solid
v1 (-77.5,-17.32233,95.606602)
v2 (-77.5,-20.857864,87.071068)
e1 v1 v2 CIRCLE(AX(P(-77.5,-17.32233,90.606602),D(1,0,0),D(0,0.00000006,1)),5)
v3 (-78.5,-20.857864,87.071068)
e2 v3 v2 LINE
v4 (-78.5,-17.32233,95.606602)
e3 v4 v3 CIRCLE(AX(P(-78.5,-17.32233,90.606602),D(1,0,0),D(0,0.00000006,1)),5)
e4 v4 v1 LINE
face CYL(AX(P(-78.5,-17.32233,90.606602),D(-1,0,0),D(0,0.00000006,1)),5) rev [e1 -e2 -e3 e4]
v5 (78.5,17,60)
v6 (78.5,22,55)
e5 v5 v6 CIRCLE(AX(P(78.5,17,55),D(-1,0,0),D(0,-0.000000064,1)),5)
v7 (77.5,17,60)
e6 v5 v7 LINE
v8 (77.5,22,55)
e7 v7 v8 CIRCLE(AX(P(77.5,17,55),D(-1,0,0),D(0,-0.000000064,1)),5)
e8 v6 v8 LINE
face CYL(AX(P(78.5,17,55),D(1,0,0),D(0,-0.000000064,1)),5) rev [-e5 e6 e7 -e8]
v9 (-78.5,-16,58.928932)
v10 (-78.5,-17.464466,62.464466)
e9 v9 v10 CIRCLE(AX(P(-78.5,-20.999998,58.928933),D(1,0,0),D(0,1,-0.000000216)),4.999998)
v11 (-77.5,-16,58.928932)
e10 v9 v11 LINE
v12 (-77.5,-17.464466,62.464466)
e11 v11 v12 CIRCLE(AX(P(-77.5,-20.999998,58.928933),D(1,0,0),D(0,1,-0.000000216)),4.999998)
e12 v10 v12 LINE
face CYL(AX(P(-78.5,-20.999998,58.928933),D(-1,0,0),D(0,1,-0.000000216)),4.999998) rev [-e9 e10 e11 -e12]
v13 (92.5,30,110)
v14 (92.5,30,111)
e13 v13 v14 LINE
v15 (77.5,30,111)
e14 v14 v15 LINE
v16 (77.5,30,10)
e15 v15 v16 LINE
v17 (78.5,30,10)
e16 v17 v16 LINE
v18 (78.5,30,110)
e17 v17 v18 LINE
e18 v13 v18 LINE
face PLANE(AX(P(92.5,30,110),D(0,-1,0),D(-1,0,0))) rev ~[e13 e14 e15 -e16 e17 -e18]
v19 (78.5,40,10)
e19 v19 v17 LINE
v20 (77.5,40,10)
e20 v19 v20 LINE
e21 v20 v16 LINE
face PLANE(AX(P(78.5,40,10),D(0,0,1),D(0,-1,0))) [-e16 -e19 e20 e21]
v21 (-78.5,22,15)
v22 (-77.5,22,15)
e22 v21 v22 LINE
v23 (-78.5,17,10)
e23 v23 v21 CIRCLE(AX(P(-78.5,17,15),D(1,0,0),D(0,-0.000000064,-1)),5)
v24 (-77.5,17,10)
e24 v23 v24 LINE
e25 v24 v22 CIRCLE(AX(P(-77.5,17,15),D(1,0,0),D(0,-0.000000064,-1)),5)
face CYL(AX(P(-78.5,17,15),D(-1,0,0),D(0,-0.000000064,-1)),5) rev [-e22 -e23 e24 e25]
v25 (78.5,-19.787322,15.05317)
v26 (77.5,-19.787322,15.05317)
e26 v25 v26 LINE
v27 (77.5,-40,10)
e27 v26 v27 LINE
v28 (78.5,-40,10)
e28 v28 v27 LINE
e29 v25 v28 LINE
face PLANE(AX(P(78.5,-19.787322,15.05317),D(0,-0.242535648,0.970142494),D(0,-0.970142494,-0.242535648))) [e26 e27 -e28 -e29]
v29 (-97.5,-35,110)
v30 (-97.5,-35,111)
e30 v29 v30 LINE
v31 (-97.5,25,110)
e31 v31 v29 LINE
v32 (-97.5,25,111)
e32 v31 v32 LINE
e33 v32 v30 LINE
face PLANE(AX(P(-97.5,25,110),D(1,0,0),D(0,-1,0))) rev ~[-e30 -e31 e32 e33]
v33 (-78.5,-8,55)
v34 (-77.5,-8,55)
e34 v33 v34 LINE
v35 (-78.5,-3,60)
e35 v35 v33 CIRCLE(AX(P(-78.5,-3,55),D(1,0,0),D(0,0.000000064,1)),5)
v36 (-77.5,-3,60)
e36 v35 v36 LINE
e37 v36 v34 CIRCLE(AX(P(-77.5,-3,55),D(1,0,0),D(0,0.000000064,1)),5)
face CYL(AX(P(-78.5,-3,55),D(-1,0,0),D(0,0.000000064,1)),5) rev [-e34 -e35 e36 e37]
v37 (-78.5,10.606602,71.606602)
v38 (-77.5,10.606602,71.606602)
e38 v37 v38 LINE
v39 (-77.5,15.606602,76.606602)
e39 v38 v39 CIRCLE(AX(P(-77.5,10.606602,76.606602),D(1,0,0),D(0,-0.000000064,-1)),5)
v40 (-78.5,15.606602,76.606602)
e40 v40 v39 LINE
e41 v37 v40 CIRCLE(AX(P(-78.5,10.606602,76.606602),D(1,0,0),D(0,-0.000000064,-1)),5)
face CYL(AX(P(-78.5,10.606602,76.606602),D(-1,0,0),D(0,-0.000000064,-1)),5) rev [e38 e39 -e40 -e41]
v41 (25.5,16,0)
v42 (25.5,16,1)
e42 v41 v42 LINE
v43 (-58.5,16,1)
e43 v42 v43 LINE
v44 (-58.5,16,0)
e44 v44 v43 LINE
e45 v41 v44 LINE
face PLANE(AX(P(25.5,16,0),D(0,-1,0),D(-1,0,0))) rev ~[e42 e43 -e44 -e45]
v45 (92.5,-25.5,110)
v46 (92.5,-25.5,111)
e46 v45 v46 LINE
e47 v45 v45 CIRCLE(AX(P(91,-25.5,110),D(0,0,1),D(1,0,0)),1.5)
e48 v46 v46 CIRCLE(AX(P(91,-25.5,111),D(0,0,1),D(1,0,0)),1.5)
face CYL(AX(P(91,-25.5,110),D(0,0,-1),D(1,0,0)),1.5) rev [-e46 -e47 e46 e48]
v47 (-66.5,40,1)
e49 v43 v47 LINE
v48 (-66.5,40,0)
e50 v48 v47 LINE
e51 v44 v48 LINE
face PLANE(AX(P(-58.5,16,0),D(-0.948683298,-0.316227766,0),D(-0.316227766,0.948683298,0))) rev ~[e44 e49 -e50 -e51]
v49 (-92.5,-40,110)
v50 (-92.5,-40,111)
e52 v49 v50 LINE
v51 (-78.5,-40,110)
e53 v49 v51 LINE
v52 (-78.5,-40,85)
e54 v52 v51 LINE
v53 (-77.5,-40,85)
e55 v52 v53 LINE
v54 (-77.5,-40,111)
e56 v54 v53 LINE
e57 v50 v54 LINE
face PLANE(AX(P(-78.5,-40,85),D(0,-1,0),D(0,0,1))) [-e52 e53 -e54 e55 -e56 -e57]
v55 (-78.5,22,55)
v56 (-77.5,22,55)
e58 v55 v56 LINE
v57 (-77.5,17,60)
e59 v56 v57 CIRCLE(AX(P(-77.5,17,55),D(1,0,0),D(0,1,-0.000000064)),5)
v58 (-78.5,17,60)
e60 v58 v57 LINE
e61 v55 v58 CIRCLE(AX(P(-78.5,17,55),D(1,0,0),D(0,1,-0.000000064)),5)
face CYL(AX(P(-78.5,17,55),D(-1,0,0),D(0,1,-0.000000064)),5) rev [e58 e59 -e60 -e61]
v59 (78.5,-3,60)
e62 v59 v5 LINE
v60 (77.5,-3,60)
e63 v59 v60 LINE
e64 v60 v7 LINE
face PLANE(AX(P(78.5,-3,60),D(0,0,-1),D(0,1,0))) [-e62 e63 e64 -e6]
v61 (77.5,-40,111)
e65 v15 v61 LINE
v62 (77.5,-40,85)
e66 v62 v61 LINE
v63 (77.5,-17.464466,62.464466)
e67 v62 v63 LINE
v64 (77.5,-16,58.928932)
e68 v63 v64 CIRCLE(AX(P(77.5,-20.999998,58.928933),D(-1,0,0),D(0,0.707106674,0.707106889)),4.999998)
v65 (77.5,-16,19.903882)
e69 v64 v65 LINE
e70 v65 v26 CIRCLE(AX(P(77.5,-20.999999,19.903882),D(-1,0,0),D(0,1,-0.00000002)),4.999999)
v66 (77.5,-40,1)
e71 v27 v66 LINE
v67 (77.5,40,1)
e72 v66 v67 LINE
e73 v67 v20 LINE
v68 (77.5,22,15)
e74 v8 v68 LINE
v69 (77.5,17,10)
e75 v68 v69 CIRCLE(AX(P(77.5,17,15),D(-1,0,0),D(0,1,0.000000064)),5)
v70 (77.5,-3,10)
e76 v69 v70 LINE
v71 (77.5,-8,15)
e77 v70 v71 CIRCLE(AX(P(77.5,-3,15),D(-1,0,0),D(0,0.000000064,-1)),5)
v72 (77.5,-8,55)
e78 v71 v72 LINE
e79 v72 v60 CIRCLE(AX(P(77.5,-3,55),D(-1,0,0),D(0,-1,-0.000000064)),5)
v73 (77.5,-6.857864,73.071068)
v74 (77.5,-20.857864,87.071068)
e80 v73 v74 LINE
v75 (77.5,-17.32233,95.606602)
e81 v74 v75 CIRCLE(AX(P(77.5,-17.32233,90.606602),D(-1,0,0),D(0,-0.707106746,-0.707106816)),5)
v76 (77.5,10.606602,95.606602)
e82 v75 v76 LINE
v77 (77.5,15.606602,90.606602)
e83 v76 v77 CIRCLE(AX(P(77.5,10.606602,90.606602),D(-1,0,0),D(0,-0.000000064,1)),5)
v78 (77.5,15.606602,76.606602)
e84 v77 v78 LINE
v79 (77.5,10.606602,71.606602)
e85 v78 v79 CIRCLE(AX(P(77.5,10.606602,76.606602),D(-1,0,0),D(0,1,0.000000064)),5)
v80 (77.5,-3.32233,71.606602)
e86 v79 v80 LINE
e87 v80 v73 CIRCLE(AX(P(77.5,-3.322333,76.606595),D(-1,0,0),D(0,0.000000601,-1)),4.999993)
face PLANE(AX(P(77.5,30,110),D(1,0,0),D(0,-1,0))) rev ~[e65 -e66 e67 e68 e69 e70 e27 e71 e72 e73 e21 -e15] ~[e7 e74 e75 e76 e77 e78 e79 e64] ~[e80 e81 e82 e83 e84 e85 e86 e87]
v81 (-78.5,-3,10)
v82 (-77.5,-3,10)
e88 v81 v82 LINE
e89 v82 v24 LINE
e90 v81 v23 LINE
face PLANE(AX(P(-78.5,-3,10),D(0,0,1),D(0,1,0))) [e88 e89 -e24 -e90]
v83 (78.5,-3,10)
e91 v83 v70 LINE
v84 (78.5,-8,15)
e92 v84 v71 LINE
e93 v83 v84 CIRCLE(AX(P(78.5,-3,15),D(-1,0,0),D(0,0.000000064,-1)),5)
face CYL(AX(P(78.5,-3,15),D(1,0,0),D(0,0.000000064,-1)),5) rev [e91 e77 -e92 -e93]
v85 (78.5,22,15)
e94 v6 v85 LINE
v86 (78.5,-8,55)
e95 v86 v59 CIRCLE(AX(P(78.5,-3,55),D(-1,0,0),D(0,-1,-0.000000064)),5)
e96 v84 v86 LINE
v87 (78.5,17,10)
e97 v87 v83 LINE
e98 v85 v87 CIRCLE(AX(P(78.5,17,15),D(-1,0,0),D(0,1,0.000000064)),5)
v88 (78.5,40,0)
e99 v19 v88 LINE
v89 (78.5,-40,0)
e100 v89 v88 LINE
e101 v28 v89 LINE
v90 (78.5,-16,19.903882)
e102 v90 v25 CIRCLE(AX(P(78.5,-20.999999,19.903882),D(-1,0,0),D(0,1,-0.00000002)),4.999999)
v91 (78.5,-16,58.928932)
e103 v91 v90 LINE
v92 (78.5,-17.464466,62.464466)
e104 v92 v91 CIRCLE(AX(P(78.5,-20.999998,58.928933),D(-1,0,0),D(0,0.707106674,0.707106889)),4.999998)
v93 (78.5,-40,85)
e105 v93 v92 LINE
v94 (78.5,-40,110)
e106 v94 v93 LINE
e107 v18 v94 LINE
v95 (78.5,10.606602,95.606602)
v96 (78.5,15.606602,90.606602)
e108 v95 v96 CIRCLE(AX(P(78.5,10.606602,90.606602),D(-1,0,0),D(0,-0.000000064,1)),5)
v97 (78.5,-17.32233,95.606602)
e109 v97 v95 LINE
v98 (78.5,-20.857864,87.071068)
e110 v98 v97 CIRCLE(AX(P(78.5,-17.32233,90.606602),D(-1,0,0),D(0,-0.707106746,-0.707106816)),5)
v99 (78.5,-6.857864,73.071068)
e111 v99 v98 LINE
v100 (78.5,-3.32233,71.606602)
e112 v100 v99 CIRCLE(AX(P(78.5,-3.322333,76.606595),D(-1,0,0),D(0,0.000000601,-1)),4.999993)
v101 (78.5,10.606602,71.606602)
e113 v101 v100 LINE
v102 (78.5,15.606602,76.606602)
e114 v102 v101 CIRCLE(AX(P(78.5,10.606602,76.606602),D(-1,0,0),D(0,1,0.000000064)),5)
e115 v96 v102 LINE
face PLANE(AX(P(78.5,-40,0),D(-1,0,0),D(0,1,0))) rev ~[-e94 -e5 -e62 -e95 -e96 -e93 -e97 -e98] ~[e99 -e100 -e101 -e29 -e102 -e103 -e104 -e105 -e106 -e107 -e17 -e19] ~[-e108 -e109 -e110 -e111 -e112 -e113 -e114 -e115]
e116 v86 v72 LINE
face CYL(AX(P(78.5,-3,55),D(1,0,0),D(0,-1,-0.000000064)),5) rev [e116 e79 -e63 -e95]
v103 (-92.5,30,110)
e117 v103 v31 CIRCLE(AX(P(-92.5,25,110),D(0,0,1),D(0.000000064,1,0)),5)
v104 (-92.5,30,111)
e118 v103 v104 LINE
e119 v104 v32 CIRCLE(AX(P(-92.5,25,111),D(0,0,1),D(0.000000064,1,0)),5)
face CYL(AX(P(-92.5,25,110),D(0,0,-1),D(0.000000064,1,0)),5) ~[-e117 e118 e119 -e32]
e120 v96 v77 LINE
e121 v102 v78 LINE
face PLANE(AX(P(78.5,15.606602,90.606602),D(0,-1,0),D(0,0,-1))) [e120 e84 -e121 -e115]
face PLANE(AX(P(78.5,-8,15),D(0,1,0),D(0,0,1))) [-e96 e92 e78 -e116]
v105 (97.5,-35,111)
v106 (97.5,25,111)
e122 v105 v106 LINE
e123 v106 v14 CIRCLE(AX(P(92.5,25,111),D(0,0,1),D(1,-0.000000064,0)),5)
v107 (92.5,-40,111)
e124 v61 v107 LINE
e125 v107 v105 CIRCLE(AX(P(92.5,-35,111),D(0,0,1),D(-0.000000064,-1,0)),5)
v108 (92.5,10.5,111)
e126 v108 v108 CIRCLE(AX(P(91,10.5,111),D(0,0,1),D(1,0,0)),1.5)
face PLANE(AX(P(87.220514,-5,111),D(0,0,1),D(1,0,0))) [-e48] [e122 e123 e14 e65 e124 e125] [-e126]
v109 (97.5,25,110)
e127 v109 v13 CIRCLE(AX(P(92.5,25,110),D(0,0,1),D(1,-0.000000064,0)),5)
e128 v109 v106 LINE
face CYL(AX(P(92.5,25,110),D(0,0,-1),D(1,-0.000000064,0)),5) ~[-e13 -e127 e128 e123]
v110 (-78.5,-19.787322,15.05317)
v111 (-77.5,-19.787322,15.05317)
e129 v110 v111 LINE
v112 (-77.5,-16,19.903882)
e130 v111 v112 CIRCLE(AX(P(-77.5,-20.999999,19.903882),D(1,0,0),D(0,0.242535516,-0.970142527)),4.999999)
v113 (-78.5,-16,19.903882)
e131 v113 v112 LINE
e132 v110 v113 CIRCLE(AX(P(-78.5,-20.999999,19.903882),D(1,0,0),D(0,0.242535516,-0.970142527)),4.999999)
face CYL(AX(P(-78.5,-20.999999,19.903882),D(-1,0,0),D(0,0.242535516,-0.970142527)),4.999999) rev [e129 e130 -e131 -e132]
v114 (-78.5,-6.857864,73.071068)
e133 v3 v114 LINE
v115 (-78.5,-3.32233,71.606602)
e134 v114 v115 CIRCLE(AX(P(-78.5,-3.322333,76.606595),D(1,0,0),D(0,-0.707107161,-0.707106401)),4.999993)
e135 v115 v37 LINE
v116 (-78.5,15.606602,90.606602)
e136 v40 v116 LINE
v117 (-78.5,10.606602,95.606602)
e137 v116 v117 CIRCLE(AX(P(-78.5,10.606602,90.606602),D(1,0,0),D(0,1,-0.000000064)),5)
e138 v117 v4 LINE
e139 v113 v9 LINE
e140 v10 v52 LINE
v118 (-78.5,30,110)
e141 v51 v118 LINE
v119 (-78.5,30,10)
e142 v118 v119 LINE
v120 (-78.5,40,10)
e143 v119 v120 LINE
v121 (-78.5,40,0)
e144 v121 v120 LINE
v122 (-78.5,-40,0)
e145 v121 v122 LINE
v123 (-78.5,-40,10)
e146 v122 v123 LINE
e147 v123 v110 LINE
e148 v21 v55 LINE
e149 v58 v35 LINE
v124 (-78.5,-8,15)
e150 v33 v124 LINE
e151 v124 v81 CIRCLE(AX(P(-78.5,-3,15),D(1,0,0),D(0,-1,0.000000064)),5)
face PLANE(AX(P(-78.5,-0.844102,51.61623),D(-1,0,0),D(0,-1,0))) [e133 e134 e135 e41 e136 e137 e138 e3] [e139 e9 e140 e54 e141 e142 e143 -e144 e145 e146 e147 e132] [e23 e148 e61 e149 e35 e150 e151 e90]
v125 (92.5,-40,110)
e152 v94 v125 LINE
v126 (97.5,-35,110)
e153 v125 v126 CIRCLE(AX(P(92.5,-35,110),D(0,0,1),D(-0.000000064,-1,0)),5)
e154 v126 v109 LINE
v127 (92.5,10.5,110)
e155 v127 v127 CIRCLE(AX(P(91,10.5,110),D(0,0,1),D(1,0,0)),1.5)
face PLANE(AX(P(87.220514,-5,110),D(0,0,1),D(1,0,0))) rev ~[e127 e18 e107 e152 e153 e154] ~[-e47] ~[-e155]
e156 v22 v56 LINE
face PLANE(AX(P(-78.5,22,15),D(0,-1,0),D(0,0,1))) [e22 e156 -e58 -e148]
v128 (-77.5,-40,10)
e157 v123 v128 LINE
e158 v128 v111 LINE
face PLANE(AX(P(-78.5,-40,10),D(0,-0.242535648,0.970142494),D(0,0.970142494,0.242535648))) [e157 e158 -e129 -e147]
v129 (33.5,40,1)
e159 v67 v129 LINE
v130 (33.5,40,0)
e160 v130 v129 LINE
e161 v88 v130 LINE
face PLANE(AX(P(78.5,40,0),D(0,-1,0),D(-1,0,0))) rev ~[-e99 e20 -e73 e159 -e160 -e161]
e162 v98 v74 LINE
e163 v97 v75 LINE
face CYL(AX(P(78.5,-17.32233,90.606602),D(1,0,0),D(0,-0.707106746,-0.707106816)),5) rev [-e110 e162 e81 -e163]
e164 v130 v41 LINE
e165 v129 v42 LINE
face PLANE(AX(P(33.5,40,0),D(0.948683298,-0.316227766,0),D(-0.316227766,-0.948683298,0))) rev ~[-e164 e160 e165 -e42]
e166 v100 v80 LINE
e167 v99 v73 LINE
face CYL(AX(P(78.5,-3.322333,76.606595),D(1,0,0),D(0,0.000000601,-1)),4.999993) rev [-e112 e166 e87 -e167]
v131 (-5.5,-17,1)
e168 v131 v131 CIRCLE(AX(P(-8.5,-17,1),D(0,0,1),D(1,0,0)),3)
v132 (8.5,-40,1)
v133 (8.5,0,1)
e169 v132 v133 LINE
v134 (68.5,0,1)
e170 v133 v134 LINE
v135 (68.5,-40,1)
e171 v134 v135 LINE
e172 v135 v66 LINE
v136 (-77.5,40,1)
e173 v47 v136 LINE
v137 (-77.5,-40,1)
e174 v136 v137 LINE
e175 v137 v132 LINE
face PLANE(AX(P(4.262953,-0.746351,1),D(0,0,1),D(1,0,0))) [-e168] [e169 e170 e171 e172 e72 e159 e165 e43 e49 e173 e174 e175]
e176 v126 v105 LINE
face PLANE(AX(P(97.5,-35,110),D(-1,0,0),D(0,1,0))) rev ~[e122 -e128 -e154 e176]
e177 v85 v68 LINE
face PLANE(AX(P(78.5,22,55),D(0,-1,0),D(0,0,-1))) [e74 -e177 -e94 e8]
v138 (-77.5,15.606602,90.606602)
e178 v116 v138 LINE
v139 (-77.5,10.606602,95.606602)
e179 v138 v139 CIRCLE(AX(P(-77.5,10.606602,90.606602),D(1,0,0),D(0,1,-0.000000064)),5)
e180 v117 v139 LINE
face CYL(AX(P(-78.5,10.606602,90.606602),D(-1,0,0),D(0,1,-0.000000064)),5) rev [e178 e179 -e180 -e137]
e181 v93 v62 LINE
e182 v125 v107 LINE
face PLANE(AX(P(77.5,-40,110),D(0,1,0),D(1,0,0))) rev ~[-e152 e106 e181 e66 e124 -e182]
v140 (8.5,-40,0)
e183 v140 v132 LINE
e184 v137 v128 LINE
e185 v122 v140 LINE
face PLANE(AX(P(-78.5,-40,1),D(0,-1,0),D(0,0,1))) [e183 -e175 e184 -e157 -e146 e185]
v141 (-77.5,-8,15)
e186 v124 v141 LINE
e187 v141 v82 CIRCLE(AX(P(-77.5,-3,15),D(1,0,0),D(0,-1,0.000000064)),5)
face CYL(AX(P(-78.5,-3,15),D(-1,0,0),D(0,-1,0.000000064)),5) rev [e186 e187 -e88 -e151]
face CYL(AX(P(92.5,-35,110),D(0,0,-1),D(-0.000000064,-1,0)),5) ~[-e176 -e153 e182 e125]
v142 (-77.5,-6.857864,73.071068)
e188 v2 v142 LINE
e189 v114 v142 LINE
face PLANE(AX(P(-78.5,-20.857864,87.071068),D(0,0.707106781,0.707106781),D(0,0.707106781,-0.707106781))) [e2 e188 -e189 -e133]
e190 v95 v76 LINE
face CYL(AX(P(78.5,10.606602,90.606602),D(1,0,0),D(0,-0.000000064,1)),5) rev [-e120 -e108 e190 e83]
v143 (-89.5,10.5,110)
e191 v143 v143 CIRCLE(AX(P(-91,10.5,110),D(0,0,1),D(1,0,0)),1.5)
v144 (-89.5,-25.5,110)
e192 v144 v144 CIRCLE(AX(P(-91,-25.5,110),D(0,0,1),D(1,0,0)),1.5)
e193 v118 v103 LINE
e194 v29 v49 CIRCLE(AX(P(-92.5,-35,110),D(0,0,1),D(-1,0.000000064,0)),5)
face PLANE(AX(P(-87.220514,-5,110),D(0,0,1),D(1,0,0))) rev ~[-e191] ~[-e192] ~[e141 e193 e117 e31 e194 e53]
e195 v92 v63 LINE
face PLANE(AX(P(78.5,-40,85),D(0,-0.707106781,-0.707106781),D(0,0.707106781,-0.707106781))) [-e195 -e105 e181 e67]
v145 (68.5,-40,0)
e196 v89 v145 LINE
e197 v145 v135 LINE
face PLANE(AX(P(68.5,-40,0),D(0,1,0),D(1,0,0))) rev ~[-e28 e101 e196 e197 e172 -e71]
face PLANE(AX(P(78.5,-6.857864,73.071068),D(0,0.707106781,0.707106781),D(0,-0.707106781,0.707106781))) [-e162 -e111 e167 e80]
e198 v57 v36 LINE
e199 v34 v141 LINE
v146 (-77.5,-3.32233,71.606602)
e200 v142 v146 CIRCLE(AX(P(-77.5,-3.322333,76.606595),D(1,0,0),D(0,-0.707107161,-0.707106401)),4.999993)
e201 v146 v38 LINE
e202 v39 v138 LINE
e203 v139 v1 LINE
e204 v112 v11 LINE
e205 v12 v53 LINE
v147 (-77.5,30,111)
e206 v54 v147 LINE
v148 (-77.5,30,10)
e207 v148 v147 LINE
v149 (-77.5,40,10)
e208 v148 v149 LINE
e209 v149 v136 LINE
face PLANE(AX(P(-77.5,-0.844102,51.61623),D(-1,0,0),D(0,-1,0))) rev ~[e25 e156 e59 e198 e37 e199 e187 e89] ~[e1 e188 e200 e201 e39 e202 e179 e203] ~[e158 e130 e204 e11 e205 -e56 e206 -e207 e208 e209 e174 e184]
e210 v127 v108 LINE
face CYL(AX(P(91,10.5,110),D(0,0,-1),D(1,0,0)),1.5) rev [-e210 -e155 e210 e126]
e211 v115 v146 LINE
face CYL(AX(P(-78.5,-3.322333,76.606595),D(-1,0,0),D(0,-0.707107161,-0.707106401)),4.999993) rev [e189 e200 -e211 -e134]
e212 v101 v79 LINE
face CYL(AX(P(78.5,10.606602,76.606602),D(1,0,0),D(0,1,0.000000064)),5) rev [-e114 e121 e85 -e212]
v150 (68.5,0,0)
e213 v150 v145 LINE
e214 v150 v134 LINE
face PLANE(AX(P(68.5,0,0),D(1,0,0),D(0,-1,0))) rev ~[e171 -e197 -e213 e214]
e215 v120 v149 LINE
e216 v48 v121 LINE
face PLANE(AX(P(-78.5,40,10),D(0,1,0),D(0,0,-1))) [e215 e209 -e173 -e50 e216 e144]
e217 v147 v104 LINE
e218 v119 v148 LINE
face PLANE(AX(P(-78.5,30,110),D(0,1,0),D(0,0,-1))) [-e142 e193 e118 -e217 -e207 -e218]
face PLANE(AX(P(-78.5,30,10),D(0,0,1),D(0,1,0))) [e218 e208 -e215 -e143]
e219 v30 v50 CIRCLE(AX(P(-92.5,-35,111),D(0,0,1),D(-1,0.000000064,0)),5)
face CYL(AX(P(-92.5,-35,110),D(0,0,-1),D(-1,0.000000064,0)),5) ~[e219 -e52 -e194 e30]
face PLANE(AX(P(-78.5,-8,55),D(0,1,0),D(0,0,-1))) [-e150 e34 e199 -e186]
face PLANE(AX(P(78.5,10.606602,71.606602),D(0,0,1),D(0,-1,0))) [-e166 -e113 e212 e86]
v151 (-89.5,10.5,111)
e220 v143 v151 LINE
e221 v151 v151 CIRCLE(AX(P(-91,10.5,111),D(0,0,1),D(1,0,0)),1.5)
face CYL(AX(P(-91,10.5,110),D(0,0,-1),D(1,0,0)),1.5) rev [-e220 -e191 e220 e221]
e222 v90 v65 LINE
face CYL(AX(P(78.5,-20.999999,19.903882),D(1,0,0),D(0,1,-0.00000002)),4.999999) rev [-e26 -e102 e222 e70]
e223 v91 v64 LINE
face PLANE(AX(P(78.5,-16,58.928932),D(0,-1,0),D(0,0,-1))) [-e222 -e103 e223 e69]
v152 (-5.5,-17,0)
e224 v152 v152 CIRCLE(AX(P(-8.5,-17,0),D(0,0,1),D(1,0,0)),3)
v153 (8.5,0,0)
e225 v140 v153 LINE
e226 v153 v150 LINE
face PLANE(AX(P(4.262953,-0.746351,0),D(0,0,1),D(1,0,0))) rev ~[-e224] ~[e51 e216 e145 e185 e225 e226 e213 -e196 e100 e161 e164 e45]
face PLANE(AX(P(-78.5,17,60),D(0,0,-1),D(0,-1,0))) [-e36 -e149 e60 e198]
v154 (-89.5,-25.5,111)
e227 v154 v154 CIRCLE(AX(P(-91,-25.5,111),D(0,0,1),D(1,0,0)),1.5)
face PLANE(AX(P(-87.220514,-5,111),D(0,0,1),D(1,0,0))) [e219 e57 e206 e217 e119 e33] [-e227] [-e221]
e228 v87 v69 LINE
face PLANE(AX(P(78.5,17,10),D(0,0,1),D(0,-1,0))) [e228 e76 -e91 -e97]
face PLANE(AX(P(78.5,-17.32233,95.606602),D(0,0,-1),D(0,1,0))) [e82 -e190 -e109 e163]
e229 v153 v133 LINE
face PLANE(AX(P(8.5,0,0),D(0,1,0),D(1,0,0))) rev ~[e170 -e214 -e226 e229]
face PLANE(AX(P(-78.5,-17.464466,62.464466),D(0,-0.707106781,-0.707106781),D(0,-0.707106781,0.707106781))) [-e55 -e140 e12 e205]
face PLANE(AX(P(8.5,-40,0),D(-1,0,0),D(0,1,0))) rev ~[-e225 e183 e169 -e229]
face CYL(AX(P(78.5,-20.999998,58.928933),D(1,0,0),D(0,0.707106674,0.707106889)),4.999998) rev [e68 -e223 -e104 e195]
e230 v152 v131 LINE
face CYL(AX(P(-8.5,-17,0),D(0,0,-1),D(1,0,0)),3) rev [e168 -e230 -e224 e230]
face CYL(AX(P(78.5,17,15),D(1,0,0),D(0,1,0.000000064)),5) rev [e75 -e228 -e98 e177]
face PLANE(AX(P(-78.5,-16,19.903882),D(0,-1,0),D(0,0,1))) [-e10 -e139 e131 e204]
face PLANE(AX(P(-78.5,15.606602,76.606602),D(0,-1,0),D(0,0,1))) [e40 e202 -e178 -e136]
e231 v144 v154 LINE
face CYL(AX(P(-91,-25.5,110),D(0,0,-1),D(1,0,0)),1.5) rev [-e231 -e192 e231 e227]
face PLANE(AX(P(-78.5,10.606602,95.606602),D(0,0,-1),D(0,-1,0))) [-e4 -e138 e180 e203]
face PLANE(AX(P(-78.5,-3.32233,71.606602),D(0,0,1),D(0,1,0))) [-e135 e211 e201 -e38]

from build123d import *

# Parameters (mm, degrees)
F0_R     = 3
F1_DEPTH = 1
F3_DEPTH = 1
F5_DEPTH = 1
F6_R     = 1.5
F7_DEPTH = 1


with BuildPart() as f1:
    # F0 (on Top) → F1 (new body)
    with BuildSketch(Plane.XY):
        Polygon((68.5, -40), (78.5, -40), (78.5, 40), (33.5, 40), (25.5, 16), (-58.5, 16), (-66.5, 40), (-78.5, 40), (-78.5, -40), (8.5, -40), (8.5, 0), (68.5, 0), align=None)
        with Locations((-8.5, -17)):
            Circle(F0_R, mode=Mode.SUBTRACT)
    extrude(amount=F1_DEPTH)

    # F2 (on face) → F3 (join)
    with BuildSketch(Plane(origin=(-78.5, 0, 0), x_dir=(0, -1, 0), z_dir=(-1, 0, 0))):
        with BuildLine():
            Line((-40, 1), (40, 1))
            Line((40, 1), (40, 10))
            Line((40, 10), (19.787322, 15.05317))
            ThreePointArc((19.787322, 15.05317), (17.058973, 16.826821), (16, 19.903882))
            Line((16, 19.903882), (16, 58.928932))
            ThreePointArc((16, 58.928932), (16.380602, 60.842349), (17.464466, 62.464466))
            Line((17.464466, 62.464466), (40, 85))
            Line((40, 85), (40, 110))
            Line((40, 110), (-30, 110))
            Line((-30, 110), (-30, 10))
            Line((-30, 10), (-40, 10))
            Line((-40, 10), (-40, 1))
        make_face()
        with BuildLine():
            ThreePointArc((-22, 55), (-20.535534, 58.535534), (-17, 60))
            Line((-17, 60), (3, 60))
            ThreePointArc((3, 60), (6.535534, 58.535534), (8, 55))
            Line((8, 55), (8, 15))
            ThreePointArc((8, 15), (6.535534, 11.464466), (3, 10))
            Line((3, 10), (-17, 10))
            ThreePointArc((-17, 10), (-20.535534, 11.464466), (-22, 15))
            Line((-22, 15), (-22, 55))
        make_face(mode=Mode.SUBTRACT)
        with BuildLine():
            ThreePointArc((17.32233, 95.606602), (21.941728, 92.520019), (20.857864, 87.071068))
            Line((20.857864, 87.071068), (6.857864, 73.071068))
            ThreePointArc((6.857864, 73.071068), (5.235748, 71.987204), (3.32233, 71.606602))
            Line((3.32233, 71.606602), (-10.606602, 71.606602))
            ThreePointArc((-10.606602, 71.606602), (-14.142136, 73.071068), (-15.606602, 76.606602))
            Line((-15.606602, 76.606602), (-15.606602, 90.606602))
            ThreePointArc((-15.606602, 90.606602), (-14.142136, 94.142136), (-10.606602, 95.606602))
            Line((-10.606602, 95.606602), (17.32233, 95.606602))
        make_face(mode=Mode.SUBTRACT)
    extrude(amount=-F3_DEPTH)

    # F4 (on face) → F5 (join)
    with BuildSketch(Plane.YZ.offset(78.5)):
        with BuildLine():
            Line((-40, 0), (40, 0))
            Line((40, 0), (40, 10))
            Line((40, 10), (30, 10))
            Line((30, 10), (30, 110))
            Line((30, 110), (-40, 110))
            Line((-40, 110), (-40, 85))
            Line((-40, 85), (-17.464466, 62.464466))
            ThreePointArc((-17.464466, 62.464466), (-16.380602, 60.842349), (-16, 58.928932))
            Line((-16, 58.928932), (-16, 19.903882))
            ThreePointArc((-16, 19.903882), (-17.058973, 16.826821), (-19.787322, 15.05317))
            Line((-19.787322, 15.05317), (-40, 10))
            Line((-40, 10), (-40, 0))
        make_face()
        with BuildLine():
            Line((-3, 60), (17, 60))
            ThreePointArc((17, 60), (20.535534, 58.535534), (22, 55))
            Line((22, 55), (22, 15))
            ThreePointArc((22, 15), (20.535534, 11.464466), (17, 10))
            Line((17, 10), (-3, 10))
            ThreePointArc((-3, 10), (-6.535534, 11.464466), (-8, 15))
            Line((-8, 15), (-8, 55))
            ThreePointArc((-8, 55), (-6.535534, 58.535534), (-3, 60))
        make_face(mode=Mode.SUBTRACT)
        with BuildLine():
            Line((-6.857864, 73.071068), (-20.857864, 87.071068))
            ThreePointArc((-20.857864, 87.071068), (-21.941728, 92.520019), (-17.32233, 95.606602))
            Line((-17.32233, 95.606602), (10.606602, 95.606602))
            ThreePointArc((10.606602, 95.606602), (14.142136, 94.142136), (15.606602, 90.606602))
            Line((15.606602, 90.606602), (15.606602, 76.606602))
            ThreePointArc((15.606602, 76.606602), (14.142136, 73.071068), (10.606602, 71.606602))
            Line((10.606602, 71.606602), (-3.32233, 71.606602))
            ThreePointArc((-3.32233, 71.606602), (-5.235748, 71.987204), (-6.857864, 73.071068))
        make_face(mode=Mode.SUBTRACT)
    extrude(amount=-F5_DEPTH)

    # F6 (on face) → F7 (join)
    with BuildSketch(Plane.XY.offset(110)):
        with BuildLine():
            Line((77.5, 30), (77.5, -40))
            Line((77.5, -40), (92.5, -40))
            ThreePointArc((92.5, -40), (96.035534, -38.535534), (97.5, -35))
            Line((97.5, -35), (97.5, 25))
            ThreePointArc((97.5, 25), (96.035534, 28.535534), (92.5, 30))
            Line((92.5, 30), (77.5, 30))
        make_face()
        with Locations((91, -25.5)):
            Circle(F6_R, mode=Mode.SUBTRACT)
        with Locations((91, 10.5)):
            Circle(F6_R, mode=Mode.SUBTRACT)
        with BuildLine():
            ThreePointArc((-92.5, 30), (-96.035534, 28.535534), (-97.5, 25))
            Line((-97.5, 25), (-97.5, -35))
            ThreePointArc((-97.5, -35), (-96.035534, -38.535534), (-92.5, -40))
            Line((-92.5, -40), (-77.5, -40))
            Line((-77.5, -40), (-77.5, 30))
            Line((-77.5, 30), (-92.5, 30))
        make_face()
        with Locations((-91, -25.5)):
            Circle(F6_R, mode=Mode.SUBTRACT)
        with Locations((-91, 10.5)):
            Circle(F6_R, mode=Mode.SUBTRACT)
    extrude(amount=F7_DEPTH)


solid = f1.part
